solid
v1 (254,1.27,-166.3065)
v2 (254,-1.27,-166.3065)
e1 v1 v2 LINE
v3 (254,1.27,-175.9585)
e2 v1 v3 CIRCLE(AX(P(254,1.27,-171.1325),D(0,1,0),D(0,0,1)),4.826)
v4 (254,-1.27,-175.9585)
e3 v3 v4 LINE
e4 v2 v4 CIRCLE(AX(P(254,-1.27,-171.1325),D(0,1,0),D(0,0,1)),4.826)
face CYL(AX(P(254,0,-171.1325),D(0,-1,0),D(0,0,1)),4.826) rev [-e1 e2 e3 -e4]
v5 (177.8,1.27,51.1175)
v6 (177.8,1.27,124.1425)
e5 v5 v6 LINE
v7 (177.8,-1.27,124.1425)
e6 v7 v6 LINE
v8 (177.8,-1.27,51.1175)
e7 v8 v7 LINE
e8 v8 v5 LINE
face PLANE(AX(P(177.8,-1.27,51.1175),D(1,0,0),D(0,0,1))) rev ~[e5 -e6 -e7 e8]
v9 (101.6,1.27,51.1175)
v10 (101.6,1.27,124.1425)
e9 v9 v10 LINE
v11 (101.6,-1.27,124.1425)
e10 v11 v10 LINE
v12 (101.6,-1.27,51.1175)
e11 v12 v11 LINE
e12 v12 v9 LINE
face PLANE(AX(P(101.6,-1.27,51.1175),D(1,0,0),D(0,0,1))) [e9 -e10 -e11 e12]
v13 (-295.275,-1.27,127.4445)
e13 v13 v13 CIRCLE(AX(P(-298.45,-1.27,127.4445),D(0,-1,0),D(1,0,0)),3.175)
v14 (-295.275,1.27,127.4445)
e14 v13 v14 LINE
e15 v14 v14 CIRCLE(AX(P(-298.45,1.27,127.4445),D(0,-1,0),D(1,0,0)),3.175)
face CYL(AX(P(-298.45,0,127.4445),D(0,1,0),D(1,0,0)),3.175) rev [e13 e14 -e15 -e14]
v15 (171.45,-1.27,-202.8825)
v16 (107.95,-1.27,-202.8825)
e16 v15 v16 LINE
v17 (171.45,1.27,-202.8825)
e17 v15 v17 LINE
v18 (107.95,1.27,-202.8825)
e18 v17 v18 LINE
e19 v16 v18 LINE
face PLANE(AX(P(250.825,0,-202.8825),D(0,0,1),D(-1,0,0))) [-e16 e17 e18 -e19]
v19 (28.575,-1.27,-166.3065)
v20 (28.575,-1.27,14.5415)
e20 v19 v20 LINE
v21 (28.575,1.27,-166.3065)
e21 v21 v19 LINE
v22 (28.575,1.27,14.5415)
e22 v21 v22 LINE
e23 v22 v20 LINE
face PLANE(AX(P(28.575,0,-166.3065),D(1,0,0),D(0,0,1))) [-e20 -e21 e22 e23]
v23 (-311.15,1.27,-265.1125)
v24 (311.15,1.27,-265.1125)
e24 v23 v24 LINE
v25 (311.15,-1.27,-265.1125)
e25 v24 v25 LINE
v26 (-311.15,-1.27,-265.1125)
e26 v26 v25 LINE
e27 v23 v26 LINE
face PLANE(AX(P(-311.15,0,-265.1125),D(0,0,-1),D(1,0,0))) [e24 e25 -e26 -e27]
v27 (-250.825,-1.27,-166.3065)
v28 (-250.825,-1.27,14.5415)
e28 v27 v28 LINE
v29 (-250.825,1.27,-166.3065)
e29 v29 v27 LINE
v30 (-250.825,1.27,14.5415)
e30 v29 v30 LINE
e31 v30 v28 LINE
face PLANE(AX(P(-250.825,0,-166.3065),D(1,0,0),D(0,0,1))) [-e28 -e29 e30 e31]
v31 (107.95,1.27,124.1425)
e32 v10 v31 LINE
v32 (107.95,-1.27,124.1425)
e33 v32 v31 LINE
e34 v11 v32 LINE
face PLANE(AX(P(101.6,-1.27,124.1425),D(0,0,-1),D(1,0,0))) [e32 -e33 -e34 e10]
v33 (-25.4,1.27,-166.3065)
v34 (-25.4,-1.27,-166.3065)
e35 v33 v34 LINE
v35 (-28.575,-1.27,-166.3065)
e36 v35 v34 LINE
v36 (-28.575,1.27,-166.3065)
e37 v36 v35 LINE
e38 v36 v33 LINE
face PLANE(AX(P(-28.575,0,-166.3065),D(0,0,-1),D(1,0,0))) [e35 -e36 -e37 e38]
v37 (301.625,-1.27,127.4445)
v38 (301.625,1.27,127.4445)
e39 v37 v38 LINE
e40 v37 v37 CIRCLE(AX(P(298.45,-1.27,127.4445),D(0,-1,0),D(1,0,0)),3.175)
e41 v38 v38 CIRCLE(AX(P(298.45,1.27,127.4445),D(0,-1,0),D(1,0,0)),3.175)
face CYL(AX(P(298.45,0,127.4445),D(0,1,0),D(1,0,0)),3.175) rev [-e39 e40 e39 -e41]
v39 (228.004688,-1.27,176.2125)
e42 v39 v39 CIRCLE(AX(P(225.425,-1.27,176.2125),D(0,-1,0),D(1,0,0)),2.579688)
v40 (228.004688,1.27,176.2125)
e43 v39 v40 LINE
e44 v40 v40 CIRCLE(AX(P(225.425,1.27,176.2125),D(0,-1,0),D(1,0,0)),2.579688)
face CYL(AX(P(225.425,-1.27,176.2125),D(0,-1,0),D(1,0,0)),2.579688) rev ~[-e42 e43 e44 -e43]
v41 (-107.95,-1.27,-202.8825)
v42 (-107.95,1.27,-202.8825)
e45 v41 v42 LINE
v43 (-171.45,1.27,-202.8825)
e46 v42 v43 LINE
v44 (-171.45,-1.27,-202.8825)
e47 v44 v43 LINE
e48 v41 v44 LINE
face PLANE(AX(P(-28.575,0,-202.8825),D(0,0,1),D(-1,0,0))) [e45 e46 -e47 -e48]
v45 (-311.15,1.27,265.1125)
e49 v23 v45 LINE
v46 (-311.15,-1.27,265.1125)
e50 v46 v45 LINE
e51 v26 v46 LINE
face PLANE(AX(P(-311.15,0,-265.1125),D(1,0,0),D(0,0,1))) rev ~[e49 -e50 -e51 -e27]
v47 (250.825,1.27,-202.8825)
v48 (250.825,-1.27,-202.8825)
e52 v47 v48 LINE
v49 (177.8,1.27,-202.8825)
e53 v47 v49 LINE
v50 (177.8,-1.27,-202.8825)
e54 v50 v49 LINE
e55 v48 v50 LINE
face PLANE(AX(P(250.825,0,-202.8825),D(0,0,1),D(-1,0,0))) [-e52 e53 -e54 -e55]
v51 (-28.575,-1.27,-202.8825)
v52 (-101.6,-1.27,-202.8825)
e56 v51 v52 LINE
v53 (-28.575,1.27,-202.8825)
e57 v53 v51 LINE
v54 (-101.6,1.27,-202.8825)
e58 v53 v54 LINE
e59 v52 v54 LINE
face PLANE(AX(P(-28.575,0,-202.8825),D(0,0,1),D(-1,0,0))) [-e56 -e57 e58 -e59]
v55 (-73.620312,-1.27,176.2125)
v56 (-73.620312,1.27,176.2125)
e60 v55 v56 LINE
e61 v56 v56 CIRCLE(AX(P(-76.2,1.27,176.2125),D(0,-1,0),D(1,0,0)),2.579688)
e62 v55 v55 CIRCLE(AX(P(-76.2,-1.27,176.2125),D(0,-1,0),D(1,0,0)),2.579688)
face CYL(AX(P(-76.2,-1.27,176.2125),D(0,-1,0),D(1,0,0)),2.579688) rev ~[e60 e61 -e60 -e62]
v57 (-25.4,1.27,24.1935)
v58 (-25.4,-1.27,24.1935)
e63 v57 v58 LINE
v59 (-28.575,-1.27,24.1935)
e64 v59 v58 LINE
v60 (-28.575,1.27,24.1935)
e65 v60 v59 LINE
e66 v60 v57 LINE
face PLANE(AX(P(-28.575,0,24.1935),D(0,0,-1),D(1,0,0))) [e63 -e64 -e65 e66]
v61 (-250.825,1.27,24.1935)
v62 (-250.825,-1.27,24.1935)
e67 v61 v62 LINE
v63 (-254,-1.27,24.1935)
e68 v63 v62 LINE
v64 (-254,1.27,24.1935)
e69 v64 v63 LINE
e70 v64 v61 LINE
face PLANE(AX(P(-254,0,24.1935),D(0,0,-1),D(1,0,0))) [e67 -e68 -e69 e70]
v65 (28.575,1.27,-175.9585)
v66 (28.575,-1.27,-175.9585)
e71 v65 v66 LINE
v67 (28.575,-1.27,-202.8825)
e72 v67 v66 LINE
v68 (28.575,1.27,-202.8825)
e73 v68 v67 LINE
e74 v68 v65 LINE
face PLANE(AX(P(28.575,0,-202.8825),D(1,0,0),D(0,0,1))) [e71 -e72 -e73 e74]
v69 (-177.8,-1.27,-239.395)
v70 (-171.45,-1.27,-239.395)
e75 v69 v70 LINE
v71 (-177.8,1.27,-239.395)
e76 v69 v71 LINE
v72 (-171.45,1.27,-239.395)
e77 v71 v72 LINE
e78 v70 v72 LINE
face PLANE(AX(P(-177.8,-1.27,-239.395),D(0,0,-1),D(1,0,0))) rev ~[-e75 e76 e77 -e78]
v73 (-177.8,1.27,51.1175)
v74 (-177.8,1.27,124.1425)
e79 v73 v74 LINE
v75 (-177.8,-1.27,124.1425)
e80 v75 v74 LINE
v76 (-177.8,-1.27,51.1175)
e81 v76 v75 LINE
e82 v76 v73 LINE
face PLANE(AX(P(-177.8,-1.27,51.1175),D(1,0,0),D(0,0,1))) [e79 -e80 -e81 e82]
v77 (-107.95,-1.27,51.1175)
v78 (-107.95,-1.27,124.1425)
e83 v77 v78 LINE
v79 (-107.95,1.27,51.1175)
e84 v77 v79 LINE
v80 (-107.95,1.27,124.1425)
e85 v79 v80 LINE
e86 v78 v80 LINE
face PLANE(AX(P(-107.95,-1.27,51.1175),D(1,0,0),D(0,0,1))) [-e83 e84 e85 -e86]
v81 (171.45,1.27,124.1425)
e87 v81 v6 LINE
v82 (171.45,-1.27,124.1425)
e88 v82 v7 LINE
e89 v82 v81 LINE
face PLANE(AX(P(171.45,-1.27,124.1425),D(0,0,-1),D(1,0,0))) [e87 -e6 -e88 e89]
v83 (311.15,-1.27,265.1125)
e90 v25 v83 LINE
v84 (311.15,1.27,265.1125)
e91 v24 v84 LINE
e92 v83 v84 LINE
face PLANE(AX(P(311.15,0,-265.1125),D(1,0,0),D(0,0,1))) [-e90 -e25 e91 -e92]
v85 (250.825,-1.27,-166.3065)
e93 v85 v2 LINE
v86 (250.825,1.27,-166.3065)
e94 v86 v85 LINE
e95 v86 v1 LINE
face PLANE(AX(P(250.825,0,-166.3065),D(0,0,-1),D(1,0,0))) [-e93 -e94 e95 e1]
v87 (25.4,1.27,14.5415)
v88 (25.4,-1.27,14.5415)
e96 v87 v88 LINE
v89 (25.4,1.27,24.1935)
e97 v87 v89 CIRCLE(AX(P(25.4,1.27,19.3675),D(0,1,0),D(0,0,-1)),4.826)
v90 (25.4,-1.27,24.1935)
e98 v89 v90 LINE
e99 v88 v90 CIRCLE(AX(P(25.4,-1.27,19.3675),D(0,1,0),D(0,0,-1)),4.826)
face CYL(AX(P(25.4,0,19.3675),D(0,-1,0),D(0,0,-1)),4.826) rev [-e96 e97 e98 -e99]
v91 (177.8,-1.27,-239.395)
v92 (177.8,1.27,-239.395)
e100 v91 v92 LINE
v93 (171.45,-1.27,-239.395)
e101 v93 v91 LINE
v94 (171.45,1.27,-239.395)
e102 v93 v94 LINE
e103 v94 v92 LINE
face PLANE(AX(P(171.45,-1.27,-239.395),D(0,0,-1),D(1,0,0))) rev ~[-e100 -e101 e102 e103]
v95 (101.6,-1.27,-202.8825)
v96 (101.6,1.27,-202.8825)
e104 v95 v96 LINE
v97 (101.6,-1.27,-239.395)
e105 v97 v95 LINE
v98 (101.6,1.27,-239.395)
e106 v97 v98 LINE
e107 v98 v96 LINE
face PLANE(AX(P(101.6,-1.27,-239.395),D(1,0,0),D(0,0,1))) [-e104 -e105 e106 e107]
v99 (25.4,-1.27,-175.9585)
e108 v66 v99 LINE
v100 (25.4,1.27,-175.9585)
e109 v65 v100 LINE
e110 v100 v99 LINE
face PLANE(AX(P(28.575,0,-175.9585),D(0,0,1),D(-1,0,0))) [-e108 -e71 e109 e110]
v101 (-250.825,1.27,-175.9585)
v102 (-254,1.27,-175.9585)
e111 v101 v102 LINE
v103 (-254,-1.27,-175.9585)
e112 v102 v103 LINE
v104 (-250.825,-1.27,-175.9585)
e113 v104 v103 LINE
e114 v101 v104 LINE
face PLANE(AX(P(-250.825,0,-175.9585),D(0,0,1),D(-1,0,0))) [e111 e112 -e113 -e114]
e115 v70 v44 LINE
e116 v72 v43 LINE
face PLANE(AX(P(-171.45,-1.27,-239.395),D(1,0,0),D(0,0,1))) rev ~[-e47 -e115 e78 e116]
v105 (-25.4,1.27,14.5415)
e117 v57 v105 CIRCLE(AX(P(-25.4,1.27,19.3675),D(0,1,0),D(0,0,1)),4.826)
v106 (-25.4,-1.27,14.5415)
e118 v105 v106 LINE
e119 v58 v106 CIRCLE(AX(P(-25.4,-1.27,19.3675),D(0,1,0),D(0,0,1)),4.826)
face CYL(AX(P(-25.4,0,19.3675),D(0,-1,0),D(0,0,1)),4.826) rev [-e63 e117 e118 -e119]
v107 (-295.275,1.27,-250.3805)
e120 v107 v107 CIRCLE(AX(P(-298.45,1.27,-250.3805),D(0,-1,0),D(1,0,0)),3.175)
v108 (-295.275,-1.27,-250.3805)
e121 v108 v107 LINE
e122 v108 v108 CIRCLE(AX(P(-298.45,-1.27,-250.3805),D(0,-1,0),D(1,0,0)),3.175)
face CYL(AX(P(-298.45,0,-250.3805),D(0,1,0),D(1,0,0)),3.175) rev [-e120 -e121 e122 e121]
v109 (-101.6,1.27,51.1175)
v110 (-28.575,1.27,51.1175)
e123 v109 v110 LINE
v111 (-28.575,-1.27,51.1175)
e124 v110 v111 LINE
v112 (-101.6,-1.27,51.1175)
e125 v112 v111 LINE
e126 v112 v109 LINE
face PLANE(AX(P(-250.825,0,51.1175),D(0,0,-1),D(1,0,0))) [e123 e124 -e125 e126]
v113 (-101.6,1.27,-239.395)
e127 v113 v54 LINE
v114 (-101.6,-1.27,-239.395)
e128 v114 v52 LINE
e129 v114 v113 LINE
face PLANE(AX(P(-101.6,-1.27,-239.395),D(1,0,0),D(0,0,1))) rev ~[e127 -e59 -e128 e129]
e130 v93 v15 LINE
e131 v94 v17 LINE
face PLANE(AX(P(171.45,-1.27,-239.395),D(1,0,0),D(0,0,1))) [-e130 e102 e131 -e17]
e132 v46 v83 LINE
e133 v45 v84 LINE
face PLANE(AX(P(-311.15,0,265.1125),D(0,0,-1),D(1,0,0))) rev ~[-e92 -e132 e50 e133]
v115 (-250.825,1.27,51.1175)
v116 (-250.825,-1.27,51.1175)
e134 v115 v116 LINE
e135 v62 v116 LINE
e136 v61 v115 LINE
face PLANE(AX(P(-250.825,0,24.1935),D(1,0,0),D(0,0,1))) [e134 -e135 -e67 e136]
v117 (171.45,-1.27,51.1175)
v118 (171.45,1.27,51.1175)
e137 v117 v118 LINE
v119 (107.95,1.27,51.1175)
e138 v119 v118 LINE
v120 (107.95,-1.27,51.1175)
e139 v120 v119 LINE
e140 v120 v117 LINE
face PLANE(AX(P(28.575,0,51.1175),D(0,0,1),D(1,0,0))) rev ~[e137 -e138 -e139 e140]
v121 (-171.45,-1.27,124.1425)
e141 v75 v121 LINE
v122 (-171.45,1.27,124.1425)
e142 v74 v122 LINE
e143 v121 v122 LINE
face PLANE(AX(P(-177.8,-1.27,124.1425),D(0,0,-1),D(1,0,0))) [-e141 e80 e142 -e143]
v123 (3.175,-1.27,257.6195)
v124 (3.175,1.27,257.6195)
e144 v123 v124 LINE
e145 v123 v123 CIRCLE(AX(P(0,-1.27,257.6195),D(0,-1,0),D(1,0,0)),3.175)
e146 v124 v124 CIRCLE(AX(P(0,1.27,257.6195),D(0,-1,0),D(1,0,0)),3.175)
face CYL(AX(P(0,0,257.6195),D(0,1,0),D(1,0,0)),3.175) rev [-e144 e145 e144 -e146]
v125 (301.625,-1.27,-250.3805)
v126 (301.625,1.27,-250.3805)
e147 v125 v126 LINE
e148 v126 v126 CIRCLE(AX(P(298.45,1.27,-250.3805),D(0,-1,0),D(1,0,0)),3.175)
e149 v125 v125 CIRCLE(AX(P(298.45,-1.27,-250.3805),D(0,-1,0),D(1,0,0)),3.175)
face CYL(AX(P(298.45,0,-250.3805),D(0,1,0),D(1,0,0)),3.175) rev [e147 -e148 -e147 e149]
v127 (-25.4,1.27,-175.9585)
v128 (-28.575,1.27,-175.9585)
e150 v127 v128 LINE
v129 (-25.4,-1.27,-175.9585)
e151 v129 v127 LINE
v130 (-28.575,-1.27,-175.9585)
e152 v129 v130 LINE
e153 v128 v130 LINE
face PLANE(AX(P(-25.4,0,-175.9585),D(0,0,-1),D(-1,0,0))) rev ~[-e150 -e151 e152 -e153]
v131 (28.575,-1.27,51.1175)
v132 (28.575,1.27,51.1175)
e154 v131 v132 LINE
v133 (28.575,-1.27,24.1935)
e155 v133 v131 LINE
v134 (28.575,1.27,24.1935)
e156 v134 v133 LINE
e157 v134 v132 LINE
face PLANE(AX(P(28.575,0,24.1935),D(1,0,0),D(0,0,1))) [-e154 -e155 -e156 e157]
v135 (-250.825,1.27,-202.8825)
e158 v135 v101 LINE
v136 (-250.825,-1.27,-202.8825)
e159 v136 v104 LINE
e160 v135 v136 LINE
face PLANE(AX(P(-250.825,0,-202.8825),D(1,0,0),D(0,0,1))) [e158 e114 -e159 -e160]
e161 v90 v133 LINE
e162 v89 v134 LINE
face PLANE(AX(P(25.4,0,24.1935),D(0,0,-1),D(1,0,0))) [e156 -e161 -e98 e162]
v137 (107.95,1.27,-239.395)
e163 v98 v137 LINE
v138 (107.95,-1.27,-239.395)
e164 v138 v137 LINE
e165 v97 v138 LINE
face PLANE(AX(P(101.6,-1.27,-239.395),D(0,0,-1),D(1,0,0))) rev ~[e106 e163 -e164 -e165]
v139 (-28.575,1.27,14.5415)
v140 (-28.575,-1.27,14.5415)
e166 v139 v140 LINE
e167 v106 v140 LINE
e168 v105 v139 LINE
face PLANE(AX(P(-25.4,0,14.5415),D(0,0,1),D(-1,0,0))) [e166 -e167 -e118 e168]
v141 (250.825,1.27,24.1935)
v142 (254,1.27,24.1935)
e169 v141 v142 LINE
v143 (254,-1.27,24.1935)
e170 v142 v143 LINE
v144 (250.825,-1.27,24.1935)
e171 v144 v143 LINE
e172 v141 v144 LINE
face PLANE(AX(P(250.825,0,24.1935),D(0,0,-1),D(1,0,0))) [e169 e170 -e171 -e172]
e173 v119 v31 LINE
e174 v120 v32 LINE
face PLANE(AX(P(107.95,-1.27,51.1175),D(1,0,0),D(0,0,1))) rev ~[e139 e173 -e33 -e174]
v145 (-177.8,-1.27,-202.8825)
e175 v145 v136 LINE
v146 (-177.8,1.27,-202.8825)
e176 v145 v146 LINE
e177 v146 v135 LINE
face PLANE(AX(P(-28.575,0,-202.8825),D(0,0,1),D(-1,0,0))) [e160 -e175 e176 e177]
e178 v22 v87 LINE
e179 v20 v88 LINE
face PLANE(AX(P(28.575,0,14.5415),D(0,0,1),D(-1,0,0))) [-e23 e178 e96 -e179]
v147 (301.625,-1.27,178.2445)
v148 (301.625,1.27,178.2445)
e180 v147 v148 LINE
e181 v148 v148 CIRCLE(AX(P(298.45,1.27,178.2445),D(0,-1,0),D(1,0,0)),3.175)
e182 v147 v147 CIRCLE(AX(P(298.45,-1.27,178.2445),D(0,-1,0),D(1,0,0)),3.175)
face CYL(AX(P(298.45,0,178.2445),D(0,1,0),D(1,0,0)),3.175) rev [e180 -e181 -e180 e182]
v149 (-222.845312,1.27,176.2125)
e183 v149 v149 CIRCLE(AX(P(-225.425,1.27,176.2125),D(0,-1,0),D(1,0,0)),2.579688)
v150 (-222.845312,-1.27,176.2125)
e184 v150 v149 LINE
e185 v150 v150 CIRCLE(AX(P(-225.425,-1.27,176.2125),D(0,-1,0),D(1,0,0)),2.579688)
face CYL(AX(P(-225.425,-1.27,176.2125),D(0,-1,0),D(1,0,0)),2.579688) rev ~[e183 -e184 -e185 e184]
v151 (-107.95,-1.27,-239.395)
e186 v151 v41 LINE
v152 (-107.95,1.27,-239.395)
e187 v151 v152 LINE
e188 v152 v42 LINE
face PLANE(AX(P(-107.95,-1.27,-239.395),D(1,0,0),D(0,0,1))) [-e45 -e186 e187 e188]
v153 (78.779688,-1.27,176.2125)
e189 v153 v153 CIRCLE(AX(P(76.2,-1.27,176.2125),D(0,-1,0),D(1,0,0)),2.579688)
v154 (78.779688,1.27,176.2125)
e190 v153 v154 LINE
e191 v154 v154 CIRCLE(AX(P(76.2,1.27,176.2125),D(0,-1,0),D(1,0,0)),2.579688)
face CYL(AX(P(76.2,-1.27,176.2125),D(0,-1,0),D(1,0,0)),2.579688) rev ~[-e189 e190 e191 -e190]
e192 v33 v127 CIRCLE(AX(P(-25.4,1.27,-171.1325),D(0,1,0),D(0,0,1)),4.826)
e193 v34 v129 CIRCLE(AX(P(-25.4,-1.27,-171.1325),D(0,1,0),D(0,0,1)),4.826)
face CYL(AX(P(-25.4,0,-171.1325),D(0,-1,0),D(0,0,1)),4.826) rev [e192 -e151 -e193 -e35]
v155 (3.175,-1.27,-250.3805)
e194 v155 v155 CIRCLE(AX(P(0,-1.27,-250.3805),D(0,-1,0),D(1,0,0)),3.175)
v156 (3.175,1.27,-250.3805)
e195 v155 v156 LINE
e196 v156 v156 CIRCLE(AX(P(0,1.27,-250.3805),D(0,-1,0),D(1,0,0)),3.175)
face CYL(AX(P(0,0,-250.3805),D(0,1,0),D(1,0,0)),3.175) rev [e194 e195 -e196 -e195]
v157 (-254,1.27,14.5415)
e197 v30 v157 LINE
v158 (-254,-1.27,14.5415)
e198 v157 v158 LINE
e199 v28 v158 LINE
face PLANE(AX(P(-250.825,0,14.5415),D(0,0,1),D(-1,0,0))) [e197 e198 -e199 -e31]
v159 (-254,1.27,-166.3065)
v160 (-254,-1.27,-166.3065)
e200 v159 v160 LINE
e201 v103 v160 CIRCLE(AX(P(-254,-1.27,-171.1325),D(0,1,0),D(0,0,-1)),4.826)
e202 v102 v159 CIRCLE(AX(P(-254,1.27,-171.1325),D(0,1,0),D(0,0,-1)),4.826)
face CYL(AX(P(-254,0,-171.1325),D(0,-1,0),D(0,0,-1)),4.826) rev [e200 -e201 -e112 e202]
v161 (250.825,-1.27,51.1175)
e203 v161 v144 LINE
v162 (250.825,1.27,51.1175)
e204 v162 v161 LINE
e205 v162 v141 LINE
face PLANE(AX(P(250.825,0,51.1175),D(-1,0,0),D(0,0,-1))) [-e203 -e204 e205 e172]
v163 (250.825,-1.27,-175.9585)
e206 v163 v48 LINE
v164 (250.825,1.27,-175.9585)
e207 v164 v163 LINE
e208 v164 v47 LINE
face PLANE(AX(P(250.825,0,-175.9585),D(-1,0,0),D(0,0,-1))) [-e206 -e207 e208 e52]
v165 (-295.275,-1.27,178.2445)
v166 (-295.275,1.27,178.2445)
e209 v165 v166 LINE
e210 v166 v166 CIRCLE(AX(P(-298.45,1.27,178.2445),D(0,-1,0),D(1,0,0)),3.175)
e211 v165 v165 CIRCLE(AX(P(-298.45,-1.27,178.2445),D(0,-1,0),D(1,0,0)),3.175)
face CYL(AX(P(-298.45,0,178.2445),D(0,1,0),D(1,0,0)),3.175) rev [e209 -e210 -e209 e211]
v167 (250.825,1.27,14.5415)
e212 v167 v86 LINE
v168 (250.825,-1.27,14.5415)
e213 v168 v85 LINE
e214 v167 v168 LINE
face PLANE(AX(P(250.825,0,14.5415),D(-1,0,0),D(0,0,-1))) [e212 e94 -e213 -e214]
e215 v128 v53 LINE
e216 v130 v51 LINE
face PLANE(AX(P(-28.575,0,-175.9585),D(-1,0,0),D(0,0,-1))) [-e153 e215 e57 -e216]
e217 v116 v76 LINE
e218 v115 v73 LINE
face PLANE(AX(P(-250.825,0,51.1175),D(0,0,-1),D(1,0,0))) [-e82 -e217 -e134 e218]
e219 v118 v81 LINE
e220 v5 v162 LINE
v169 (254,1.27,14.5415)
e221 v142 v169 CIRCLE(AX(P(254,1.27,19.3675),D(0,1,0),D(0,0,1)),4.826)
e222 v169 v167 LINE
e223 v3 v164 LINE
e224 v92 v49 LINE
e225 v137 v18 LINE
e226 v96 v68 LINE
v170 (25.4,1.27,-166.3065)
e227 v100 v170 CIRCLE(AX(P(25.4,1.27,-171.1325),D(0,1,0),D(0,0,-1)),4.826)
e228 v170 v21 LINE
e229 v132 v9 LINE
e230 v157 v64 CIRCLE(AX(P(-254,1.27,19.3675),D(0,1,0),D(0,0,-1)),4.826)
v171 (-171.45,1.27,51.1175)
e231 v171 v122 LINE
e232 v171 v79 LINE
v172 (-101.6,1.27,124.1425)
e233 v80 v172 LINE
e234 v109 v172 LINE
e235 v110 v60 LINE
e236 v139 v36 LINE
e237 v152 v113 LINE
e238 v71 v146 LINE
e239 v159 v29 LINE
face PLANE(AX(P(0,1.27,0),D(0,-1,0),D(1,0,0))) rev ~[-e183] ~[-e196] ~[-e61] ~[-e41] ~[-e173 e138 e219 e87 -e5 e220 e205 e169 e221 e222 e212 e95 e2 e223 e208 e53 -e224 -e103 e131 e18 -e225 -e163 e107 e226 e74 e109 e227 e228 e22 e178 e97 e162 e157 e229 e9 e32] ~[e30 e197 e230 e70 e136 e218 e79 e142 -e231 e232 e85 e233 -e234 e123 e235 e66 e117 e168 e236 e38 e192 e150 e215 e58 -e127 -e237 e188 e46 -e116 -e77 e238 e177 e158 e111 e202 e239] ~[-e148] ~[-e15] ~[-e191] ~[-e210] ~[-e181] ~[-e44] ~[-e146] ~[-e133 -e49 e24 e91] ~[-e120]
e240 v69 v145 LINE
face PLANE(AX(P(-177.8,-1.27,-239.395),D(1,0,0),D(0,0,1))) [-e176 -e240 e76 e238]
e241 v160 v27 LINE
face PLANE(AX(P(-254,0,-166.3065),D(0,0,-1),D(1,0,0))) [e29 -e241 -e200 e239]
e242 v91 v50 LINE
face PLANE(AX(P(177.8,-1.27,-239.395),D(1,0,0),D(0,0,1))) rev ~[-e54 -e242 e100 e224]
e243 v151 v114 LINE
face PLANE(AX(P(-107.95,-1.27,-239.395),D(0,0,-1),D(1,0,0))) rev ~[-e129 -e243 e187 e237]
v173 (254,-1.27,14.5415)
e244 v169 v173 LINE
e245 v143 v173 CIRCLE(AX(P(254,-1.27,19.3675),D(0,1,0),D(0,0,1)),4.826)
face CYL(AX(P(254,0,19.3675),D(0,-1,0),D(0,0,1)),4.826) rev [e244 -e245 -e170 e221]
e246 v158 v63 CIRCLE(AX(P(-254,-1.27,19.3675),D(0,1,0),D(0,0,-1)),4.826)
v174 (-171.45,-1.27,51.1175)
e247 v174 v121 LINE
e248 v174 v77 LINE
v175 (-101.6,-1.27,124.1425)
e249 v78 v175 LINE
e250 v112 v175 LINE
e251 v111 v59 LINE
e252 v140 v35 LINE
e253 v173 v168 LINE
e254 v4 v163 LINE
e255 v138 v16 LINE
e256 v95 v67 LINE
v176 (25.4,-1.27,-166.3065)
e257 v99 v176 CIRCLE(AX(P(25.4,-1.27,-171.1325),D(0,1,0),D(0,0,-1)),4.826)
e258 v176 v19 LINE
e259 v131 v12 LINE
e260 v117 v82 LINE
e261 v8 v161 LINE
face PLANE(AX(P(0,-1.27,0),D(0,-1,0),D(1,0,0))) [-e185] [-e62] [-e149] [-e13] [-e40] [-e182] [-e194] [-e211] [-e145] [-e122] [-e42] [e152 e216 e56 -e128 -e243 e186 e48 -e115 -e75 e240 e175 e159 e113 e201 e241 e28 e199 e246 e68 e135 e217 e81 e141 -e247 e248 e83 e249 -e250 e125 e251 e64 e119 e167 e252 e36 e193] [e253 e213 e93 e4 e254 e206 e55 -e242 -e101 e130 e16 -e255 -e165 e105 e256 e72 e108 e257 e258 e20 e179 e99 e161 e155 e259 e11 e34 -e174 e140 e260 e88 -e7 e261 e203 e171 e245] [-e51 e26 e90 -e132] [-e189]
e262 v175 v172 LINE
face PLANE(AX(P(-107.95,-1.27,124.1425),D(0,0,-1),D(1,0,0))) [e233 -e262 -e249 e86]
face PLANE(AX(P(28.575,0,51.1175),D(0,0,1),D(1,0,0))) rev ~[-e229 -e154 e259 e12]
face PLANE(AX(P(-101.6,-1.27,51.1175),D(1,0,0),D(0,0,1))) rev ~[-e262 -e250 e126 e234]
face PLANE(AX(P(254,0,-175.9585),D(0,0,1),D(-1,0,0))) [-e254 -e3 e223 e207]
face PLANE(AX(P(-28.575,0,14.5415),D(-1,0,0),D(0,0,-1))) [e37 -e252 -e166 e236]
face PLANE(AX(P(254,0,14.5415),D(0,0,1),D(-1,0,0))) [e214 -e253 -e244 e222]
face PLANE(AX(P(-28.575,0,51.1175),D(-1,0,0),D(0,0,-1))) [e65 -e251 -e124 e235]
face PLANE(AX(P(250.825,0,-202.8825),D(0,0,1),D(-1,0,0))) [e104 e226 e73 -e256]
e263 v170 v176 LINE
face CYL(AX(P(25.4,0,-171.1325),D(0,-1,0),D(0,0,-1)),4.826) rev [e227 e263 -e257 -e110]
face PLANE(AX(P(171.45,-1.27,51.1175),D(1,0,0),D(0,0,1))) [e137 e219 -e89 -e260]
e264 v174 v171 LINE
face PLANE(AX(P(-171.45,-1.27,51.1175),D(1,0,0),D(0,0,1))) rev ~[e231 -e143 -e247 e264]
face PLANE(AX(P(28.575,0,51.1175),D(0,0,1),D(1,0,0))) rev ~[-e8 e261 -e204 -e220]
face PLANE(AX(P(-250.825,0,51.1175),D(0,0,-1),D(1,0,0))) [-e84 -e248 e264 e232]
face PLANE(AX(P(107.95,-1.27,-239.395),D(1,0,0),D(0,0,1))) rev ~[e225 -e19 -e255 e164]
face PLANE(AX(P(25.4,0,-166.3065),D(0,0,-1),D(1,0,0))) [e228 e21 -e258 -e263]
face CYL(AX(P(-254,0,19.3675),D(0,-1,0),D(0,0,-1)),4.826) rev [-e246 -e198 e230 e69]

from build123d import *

# Parameters (mm, degrees)
F0_W     = 622.3
F0_H     = 530.225
F0_R     = 3.175
F1_DEPTH = 1.27
F2_W     = 6.35
F2_H     = 73.025
F2_H_2   = 36.5125
F2_R     = 2.579688
F3_DEPTH = 2.541


with BuildPart() as f1:
    # F0 (on Front) → F1 (new body, symmetric)
    with BuildSketch(Plane.XZ):
        Rectangle(F0_W, F0_H)
        with Locations((-298.45, -250.3805)):
            Circle(F0_R, mode=Mode.SUBTRACT)
        with BuildLine():
            Line((-250.825, 24.1935), (-250.825, 51.1175))
            Line((-250.825, 51.1175), (-28.575, 51.1175))
            Line((-28.575, 51.1175), (-28.575, 24.1935))
            Line((-28.575, 24.1935), (-25.4, 24.1935))
            ThreePointArc((-25.4, 24.1935), (-20.574, 19.3675), (-25.4, 14.5415))
            Line((-25.4, 14.5415), (-28.575, 14.5415))
            Line((-28.575, 14.5415), (-28.575, -166.3065))
            Line((-28.575, -166.3065), (-25.4, -166.3065))
            ThreePointArc((-25.4, -166.3065), (-20.574, -171.1325), (-25.4, -175.9585))
            Line((-25.4, -175.9585), (-28.575, -175.9585))
            Line((-28.575, -175.9585), (-28.575, -202.8825))
            Line((-28.575, -202.8825), (-250.825, -202.8825))
            Line((-250.825, -202.8825), (-250.825, -175.9585))
            Line((-250.825, -175.9585), (-254, -175.9585))
            ThreePointArc((-254, -175.9585), (-258.826, -171.1325), (-254, -166.3065))
            Line((-254, -166.3065), (-250.825, -166.3065))
            Line((-250.825, -166.3065), (-250.825, 14.5415))
            Line((-250.825, 14.5415), (-254, 14.5415))
            ThreePointArc((-254, 14.5415), (-258.826, 19.3675), (-254, 24.1935))
            Line((-254, 24.1935), (-250.825, 24.1935))
        make_face(mode=Mode.SUBTRACT)
        with Locations((0, -250.3805)):
            Circle(F0_R, mode=Mode.SUBTRACT)
        with Locations((298.45, -250.3805)):
            Circle(F0_R, mode=Mode.SUBTRACT)
        with BuildLine():
            Line((28.575, -202.8825), (28.575, -175.9585))
            Line((28.575, -175.9585), (25.4, -175.9585))
            ThreePointArc((25.4, -175.9585), (20.574, -171.1325), (25.4, -166.3065))
            Line((25.4, -166.3065), (28.575, -166.3065))
            Line((28.575, -166.3065), (28.575, 14.5415))
            Line((28.575, 14.5415), (25.4, 14.5415))
            ThreePointArc((25.4, 14.5415), (20.574, 19.3675), (25.4, 24.1935))
            Line((25.4, 24.1935), (28.575, 24.1935))
            Line((28.575, 24.1935), (28.575, 51.1175))
            Line((28.575, 51.1175), (250.825, 51.1175))
            Line((250.825, 51.1175), (250.825, 24.1935))
            Line((250.825, 24.1935), (254, 24.1935))
            ThreePointArc((254, 24.1935), (258.826, 19.3675), (254, 14.5415))
            Line((254, 14.5415), (250.825, 14.5415))
            Line((250.825, 14.5415), (250.825, -166.3065))
            Line((250.825, -166.3065), (254, -166.3065))
            ThreePointArc((254, -166.3065), (258.826, -171.1325), (254, -175.9585))
            Line((254, -175.9585), (250.825, -175.9585))
            Line((250.825, -175.9585), (250.825, -202.8825))
            Line((250.825, -202.8825), (28.575, -202.8825))
        make_face(mode=Mode.SUBTRACT)
        with Locations((-298.45, 127.4445)):
            Circle(F0_R, mode=Mode.SUBTRACT)
        with Locations((-298.45, 178.2445)):
            Circle(F0_R, mode=Mode.SUBTRACT)
        with Locations((298.45, 127.4445)):
            Circle(F0_R, mode=Mode.SUBTRACT)
        with Locations((0, 257.6195)):
            Circle(F0_R, mode=Mode.SUBTRACT)
        with Locations((298.45, 178.2445)):
            Circle(F0_R, mode=Mode.SUBTRACT)
    extrude(amount=F1_DEPTH, both=True)

    # F2 (on face) → F3 (cut, through all)
    with BuildSketch(Plane.XZ.offset(1.27)):
        with Locations((-174.625, 87.63)):
            Rectangle(F2_W, F2_H)
        with Locations((-104.775, 87.63)):
            Rectangle(F2_W, F2_H)
        with Locations((-104.775, -221.13875)):
            Rectangle(F2_W, F2_H_2)
        with Locations((-174.625, -221.13875)):
            Rectangle(F2_W, F2_H_2)
        with Locations((104.775, 87.63)):
            Rectangle(F2_W, F2_H)
        with Locations((174.625, -221.13875)):
            Rectangle(F2_W, F2_H_2)
        with Locations((174.625, 87.63)):
            Rectangle(F2_W, F2_H)
        with Locations((104.775, -221.13875)):
            Rectangle(F2_W, F2_H_2)
        with Locations((225.425, 176.2125)):
            Circle(F2_R)
        with Locations((-225.425, 176.2125)):
            Circle(F2_R)
        with Locations((76.2, 176.2125)):
            Circle(F2_R)
        with Locations((-76.2, 176.2125)):
            Circle(F2_R)
    extrude(amount=-F3_DEPTH, mode=Mode.SUBTRACT)


solid = f1.part
